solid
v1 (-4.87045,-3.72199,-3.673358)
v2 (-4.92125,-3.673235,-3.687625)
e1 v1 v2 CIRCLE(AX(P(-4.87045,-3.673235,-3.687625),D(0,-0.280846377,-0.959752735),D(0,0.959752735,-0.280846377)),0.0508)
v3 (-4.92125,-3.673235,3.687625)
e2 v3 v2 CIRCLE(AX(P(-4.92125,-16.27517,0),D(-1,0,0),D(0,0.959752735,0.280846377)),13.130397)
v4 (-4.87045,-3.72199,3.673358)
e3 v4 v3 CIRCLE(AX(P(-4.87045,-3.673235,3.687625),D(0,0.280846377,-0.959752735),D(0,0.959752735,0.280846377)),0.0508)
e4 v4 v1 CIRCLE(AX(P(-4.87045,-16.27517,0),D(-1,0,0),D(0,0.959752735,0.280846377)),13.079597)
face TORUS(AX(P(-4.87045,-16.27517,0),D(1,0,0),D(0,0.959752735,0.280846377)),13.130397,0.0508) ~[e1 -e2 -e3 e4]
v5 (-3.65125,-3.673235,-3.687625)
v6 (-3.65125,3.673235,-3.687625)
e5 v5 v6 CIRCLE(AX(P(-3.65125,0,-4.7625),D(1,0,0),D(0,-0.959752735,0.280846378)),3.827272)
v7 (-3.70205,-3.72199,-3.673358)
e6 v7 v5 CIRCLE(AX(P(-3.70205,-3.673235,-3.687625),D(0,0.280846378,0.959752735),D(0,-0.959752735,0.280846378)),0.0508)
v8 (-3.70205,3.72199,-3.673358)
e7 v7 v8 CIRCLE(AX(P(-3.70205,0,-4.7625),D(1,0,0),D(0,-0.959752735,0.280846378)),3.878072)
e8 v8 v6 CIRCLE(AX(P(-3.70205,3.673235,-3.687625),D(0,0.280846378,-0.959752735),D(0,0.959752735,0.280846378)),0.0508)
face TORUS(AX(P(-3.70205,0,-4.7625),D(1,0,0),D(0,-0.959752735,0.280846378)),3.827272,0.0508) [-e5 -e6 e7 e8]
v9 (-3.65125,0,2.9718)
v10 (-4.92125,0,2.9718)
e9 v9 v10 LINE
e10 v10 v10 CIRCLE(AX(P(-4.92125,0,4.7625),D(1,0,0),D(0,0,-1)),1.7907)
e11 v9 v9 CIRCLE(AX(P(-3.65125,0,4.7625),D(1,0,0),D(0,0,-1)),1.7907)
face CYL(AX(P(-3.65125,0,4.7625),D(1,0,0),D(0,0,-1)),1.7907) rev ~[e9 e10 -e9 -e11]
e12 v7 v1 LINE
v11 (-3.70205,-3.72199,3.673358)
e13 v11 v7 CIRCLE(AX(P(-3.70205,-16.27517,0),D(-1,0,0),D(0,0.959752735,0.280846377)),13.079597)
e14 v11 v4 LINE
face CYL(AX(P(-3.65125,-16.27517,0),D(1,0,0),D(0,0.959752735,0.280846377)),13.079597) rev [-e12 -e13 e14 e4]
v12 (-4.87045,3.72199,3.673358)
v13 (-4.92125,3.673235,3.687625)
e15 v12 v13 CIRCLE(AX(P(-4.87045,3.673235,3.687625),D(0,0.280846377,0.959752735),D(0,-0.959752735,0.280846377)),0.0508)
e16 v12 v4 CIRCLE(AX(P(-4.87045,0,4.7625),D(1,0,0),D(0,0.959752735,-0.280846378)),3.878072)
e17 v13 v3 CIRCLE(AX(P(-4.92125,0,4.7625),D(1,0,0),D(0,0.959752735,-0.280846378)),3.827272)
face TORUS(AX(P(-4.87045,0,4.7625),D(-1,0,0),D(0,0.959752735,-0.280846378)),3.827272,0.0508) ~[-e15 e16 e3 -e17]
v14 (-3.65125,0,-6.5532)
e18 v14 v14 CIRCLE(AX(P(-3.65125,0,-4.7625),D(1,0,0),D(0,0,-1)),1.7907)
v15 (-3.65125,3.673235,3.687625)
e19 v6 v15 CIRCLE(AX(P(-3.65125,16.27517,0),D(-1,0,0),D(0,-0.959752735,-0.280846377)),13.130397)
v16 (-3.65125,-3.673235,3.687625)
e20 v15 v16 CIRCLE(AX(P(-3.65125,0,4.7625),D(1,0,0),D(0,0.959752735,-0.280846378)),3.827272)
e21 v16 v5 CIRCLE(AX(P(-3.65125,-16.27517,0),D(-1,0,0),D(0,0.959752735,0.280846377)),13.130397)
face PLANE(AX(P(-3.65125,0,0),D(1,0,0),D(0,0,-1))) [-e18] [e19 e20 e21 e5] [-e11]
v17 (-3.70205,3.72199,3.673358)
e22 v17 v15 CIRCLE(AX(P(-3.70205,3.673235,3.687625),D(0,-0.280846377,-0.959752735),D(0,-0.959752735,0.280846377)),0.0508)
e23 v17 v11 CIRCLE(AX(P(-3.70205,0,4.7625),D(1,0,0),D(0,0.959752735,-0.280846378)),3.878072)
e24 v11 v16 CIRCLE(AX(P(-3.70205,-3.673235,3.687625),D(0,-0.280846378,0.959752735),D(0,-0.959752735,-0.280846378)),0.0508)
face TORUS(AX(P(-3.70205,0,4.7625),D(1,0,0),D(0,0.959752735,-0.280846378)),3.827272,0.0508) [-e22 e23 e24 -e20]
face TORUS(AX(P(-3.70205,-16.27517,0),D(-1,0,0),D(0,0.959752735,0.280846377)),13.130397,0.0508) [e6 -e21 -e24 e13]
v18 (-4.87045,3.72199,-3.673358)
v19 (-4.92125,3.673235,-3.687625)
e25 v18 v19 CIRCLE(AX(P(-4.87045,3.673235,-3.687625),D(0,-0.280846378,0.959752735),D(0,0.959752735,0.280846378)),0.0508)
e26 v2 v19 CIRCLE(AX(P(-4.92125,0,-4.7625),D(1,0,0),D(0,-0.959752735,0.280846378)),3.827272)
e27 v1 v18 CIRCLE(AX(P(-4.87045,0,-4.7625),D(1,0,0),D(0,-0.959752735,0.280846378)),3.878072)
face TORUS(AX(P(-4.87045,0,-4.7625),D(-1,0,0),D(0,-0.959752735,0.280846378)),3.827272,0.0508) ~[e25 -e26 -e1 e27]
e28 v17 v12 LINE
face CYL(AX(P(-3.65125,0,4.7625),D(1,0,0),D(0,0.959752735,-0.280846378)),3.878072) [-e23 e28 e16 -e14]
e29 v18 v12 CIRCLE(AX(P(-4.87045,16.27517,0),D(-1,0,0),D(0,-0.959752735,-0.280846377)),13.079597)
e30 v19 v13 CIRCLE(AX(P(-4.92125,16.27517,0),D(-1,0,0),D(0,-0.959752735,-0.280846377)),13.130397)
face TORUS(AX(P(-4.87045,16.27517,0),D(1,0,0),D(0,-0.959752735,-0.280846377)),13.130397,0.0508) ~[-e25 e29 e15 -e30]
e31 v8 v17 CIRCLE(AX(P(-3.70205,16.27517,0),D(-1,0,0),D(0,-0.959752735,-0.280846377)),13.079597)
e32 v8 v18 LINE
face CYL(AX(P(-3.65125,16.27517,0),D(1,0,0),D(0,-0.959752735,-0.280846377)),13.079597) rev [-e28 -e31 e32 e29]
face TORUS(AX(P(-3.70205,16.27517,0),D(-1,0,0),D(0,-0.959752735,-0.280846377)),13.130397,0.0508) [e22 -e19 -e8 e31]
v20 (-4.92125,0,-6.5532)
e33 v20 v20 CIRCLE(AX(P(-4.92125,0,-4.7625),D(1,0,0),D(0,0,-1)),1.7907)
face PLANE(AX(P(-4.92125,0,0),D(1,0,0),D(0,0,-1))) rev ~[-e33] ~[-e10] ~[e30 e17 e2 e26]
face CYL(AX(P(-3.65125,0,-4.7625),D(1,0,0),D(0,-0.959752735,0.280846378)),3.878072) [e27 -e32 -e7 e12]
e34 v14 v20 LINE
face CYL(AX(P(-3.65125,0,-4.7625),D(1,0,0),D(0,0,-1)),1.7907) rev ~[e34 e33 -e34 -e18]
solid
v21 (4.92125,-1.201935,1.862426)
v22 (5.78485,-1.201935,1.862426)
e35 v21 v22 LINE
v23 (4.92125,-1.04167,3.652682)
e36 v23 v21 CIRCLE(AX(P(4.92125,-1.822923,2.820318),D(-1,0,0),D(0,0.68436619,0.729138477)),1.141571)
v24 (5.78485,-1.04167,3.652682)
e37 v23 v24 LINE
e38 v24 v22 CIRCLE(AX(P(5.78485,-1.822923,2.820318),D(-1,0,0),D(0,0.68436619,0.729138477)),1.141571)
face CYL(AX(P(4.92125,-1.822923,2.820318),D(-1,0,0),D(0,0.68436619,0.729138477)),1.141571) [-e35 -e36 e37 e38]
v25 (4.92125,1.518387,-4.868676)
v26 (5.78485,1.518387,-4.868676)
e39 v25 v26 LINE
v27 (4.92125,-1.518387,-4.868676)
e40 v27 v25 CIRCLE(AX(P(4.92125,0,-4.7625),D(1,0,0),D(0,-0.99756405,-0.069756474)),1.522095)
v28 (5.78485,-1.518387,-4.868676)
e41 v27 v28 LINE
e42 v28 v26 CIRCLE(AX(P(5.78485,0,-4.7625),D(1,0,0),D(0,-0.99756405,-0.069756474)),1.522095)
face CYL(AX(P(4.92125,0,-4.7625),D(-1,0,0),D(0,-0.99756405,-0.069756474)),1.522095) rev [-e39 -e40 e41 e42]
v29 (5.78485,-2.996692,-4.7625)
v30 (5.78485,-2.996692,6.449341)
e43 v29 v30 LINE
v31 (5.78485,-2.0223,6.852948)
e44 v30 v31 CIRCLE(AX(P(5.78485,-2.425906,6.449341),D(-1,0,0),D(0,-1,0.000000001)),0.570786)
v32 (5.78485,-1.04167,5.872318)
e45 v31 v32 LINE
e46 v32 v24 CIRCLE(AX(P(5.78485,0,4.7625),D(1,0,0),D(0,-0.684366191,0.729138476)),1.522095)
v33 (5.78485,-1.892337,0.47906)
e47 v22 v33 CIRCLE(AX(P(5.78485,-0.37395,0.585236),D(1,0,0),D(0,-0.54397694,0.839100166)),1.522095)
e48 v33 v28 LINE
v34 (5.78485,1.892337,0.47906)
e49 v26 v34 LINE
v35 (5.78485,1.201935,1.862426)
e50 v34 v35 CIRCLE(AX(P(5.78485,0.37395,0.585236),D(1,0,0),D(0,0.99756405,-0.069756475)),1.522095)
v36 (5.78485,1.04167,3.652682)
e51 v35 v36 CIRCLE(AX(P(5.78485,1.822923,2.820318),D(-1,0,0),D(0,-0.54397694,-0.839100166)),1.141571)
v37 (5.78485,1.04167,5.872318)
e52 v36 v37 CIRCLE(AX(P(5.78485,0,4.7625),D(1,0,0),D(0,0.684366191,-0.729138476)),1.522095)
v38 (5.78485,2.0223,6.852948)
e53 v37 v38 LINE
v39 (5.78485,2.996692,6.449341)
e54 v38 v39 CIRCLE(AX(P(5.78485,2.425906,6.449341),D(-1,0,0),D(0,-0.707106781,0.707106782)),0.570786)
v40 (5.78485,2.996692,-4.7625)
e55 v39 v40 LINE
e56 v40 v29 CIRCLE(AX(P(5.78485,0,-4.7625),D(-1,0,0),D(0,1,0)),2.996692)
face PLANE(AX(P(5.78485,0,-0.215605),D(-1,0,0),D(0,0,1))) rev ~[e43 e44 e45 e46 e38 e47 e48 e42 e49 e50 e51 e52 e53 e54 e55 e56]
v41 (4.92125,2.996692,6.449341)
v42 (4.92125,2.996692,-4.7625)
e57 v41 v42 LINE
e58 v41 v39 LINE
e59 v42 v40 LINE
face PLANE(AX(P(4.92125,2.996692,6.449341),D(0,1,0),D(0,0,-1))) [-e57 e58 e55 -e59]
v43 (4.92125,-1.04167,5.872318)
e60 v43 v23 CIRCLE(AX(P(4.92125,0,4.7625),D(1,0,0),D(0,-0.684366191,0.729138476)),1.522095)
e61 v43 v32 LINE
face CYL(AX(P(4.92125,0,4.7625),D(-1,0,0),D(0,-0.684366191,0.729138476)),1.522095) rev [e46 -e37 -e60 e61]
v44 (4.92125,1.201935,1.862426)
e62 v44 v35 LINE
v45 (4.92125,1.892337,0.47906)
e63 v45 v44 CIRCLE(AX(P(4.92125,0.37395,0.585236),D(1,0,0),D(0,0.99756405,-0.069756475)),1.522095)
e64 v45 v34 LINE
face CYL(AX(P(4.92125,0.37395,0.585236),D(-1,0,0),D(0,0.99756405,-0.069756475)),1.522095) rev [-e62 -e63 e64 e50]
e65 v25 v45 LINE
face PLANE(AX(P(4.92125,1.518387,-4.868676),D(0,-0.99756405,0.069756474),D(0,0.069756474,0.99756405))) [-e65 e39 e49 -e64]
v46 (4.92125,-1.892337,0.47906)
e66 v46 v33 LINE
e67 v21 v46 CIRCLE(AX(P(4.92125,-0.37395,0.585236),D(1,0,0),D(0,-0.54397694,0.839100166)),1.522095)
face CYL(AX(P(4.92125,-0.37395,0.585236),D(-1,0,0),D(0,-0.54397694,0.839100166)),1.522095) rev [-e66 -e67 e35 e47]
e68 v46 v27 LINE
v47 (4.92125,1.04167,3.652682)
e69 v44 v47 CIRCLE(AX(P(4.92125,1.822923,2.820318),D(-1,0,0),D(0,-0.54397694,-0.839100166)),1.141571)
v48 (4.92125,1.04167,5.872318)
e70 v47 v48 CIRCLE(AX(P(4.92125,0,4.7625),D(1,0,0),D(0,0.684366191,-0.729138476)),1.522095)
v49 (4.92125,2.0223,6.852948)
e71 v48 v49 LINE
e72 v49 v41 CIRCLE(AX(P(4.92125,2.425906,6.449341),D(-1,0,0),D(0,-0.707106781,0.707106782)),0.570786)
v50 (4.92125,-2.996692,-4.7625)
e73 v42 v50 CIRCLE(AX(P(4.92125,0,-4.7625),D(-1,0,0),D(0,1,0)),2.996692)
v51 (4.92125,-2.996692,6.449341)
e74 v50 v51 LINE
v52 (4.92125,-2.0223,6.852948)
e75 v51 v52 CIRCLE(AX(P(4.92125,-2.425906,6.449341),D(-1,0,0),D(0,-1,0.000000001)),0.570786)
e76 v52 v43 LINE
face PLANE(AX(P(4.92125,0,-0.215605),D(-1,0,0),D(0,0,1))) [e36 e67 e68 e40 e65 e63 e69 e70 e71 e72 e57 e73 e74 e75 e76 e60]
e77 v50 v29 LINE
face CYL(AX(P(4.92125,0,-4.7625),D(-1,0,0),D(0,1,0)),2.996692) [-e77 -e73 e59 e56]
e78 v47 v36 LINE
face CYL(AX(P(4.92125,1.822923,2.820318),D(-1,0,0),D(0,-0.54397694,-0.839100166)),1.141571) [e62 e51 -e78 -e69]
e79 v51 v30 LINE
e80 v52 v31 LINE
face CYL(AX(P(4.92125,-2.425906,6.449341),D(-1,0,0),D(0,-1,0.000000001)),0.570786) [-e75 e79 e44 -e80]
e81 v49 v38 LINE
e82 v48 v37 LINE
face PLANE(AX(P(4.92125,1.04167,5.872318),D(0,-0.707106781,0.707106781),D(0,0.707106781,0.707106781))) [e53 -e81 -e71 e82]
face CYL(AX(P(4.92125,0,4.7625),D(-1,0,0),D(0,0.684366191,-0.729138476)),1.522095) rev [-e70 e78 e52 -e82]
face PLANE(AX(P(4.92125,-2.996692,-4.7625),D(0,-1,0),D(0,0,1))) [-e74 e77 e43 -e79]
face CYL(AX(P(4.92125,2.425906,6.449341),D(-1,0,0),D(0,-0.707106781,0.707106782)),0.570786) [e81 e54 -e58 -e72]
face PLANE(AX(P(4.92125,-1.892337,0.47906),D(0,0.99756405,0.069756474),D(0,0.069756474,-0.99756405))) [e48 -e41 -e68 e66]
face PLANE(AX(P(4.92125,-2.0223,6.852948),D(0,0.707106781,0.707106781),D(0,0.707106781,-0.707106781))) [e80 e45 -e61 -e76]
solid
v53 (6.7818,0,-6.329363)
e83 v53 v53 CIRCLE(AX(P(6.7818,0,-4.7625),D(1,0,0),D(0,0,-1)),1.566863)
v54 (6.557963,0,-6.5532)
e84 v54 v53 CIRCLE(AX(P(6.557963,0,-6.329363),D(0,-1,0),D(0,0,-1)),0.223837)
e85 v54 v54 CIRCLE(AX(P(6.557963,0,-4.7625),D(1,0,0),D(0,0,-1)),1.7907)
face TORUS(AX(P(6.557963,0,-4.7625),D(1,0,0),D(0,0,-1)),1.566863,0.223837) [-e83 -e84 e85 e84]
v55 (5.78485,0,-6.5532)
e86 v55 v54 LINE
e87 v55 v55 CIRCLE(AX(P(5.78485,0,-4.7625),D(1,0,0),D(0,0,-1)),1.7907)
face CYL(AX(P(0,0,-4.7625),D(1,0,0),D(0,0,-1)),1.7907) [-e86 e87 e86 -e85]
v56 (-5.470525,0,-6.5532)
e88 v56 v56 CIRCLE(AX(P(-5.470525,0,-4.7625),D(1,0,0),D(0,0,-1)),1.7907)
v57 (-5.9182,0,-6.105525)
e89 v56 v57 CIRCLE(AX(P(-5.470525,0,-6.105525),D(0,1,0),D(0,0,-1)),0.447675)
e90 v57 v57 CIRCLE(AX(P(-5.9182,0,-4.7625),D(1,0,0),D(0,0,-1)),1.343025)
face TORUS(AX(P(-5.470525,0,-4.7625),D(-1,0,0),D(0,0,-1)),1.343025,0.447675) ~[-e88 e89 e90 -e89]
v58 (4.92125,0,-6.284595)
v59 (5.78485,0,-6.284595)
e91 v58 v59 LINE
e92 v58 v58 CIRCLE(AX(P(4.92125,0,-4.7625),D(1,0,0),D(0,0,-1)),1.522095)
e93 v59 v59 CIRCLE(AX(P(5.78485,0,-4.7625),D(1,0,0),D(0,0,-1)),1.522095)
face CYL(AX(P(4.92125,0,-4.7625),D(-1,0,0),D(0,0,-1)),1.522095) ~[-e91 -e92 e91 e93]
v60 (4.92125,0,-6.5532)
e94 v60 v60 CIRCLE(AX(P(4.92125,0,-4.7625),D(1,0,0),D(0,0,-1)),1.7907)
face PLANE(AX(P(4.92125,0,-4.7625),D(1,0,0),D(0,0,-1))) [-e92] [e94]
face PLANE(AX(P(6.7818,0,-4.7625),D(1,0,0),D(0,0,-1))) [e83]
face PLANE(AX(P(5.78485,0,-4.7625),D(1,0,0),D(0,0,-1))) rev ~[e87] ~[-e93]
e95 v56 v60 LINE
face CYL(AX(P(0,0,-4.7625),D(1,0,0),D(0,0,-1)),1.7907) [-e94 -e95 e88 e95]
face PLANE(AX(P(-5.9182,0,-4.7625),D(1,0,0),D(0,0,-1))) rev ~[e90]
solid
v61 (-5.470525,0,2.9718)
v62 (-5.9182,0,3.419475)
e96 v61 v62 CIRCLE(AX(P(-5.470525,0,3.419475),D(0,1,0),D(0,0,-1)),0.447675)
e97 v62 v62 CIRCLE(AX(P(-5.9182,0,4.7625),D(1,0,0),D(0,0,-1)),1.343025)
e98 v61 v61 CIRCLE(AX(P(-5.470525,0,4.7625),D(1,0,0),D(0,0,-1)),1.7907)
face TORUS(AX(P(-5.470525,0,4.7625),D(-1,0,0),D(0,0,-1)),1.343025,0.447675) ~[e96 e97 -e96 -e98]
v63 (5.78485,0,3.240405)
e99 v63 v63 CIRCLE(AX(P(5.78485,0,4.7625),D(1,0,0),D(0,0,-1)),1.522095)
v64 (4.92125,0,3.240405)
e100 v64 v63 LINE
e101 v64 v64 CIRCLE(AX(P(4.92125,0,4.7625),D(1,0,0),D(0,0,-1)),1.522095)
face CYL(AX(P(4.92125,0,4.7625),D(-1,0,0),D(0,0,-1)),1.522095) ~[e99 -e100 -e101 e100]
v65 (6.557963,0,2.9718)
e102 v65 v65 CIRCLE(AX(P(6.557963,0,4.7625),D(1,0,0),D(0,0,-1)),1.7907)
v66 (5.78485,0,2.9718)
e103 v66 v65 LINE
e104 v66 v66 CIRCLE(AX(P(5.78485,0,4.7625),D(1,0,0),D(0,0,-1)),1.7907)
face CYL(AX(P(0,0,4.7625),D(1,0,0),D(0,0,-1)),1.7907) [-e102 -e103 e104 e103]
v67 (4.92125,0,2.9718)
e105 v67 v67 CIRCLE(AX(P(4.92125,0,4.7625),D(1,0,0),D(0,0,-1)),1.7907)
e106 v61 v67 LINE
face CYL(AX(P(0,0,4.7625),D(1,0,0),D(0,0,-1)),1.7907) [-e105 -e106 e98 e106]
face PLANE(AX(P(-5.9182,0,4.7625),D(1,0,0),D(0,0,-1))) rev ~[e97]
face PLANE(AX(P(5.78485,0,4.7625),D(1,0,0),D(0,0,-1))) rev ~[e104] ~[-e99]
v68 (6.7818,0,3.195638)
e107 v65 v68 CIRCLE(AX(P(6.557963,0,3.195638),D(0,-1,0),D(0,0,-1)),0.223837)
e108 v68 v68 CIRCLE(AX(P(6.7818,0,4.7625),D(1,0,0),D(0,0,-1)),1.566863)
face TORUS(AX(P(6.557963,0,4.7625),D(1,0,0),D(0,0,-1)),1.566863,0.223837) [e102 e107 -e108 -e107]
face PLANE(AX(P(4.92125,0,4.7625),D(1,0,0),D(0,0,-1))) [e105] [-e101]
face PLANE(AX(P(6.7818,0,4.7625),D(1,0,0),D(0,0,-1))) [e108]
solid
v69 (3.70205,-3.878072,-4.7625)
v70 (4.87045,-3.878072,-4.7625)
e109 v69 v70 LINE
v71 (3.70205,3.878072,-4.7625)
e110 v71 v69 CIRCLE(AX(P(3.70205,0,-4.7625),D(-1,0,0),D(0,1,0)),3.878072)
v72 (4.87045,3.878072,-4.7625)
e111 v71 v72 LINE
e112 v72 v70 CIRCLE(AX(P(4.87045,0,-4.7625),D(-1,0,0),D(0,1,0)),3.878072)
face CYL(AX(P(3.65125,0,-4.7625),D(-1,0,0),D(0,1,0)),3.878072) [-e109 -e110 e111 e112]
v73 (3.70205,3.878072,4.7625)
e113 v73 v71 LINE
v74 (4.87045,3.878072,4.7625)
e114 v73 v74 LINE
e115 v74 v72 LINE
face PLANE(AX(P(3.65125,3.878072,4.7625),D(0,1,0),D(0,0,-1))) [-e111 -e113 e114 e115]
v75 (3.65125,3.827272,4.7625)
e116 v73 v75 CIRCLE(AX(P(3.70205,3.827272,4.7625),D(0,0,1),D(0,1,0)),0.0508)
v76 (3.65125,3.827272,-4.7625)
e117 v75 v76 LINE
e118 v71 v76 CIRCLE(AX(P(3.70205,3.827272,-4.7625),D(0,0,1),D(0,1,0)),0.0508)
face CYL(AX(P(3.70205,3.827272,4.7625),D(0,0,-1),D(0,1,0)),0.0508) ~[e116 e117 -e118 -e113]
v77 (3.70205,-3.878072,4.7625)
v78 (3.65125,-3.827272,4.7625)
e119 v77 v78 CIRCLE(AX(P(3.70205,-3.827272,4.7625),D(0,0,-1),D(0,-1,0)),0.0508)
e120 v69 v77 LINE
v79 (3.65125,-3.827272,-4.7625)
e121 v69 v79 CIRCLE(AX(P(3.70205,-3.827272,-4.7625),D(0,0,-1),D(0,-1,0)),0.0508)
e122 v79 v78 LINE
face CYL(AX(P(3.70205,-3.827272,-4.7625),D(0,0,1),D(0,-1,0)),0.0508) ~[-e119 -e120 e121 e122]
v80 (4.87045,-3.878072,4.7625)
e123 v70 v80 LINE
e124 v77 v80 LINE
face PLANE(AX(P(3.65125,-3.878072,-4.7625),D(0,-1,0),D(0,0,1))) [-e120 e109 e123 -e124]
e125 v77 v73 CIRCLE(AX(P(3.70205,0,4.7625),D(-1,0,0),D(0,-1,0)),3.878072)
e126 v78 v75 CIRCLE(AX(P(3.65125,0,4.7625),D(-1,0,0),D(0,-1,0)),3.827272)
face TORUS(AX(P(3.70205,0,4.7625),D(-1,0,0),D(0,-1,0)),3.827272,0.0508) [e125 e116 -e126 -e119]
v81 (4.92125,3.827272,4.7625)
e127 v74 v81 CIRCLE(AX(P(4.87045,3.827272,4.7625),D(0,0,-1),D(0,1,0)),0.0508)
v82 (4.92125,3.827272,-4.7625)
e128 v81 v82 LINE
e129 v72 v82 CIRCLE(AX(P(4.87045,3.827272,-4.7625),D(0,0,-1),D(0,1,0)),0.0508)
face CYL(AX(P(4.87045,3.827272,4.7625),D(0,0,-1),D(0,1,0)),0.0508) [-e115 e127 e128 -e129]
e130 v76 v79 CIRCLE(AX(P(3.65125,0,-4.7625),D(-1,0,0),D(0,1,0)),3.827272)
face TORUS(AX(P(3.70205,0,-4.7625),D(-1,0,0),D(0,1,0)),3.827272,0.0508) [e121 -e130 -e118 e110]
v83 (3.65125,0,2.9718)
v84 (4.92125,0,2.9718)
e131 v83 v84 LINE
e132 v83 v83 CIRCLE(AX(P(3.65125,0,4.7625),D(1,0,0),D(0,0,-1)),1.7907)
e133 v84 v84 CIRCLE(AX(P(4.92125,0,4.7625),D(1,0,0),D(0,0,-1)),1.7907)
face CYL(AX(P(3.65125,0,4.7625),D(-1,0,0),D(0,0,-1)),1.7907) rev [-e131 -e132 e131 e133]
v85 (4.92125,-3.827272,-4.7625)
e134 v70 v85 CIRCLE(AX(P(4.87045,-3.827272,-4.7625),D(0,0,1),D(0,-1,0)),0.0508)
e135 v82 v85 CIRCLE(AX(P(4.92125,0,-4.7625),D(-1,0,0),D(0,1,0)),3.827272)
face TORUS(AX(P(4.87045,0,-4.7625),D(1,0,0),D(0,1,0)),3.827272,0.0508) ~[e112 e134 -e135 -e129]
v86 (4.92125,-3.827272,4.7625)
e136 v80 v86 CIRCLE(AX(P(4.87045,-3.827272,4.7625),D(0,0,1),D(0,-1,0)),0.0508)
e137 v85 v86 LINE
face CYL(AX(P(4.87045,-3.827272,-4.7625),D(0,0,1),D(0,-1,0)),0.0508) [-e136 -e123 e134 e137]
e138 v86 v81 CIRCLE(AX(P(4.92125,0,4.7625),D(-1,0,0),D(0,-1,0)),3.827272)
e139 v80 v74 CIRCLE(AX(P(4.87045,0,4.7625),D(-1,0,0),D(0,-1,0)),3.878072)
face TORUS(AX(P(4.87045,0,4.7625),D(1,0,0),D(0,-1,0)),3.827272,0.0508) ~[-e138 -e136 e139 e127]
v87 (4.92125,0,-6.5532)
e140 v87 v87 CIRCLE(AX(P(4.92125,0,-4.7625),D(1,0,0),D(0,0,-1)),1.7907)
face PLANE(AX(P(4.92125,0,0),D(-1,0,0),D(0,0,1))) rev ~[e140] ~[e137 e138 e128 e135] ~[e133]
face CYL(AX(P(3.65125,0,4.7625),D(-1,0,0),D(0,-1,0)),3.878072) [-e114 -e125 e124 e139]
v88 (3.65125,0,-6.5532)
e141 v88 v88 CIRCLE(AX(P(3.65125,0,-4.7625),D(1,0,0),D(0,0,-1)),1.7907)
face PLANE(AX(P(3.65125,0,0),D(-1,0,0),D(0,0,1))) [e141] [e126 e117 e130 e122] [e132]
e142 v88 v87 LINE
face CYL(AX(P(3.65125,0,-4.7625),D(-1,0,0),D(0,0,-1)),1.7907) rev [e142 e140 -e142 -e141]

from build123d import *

# Parameters (mm, degrees)
BOSS_EXTRUDE1_START        = 3.65125
SKETCH3_R                  = 1.7907
BOSS_EXTRUDE1_DEPTH        = 1.27
FILLET1_R                  = 0.0508
BOSS_EXTRUDE2_START        = -3.65125
SKETCH4_R                  = 1.7907
BOSS_EXTRUDE2_DEPTH        = 1.27
FILLET2_R                  = 0.0508
SKETCH5_R                  = 1.7907
BOSS_EXTRUDE3_DEPTH        = 6.7818
BOSS_EXTRUDE3_DEPTH_BACK   = 5.9182
BOSS_EXTRUDE3_2_DEPTH      = 6.7818
BOSS_EXTRUDE3_2_DEPTH_BACK = 5.9182
FILLET3_R                  = 0.447675
FILLET4_R                  = 0.447675
BOSS_EXTRUDE4_DEPTH        = 0.8636
SKETCH8_R                  = 1.7907
SKETCH8_R_2                = 1.522095
CUT_EXTRUDE1_DEPTH         = 0.8636
SKETCH9_R                  = 1.7907
SKETCH9_R_2                = 1.522095
CUT_EXTRUDE2_DEPTH         = 0.8636
FILLET5_R                  = 0.2238375
FILLET6_R                  = 0.2238375


with BuildPart() as part:
    # Sketch3 → Boss-Extrude1 (new body)
    with BuildSketch(Plane(origin=(0, 0, 0), x_dir=(0, 0, -1), z_dir=(1, 0, 0)).offset(BOSS_EXTRUDE1_START)):
        with BuildLine():
            Line((-4.7625, 3.878072), (4.7625, 3.878072))
            ThreePointArc((4.7625, 3.878072), (8.640572, 0), (4.7625, -3.878072))
            Line((4.7625, -3.878072), (-4.7625, -3.878072))
            ThreePointArc((-4.7625, -3.878072), (-8.640572, 0), (-4.7625, 3.878072))
        make_face()
        with Locations((-4.7625, 0)):
            Circle(SKETCH3_R, mode=Mode.SUBTRACT)
        with Locations((4.7625, 0)):
            Circle(SKETCH3_R, mode=Mode.SUBTRACT)
    extrude(amount=BOSS_EXTRUDE1_DEPTH)

    # Fillet1
    fillet1_edges = [part.edges().sort_by_distance(p)[0] for p in [
        (4.92125, 0, -8.640572),
        (4.92125, 3.878072, 0),
        (4.92125, 0, 8.640572),
        (3.65125, 3.878072, 0),
        (3.65125, 0, -8.640572),
        (3.65125, -3.878072, 0),
        (3.65125, 0, 8.640572),
        (4.92125, -3.878072, 0),
    ]]
    fillet(fillet1_edges, radius=FILLET1_R)


with BuildPart() as body_2:
    # Sketch4 → Boss-Extrude2 (new body)
    with BuildSketch(Plane(origin=(0, 0, 0), x_dir=(0, 0, -1), z_dir=(1, 0, 0)).offset(BOSS_EXTRUDE2_START)):
        with BuildLine():
            ThreePointArc((-3.673357527, 3.721990208), (-8.640572, 0), (-3.673357527, -3.721990208))
            ThreePointArc((-3.673357527, -3.721990208), (0, -3.195572188), (3.673357527, -3.721990208))
            ThreePointArc((3.673357527, -3.721990208), (8.640572, 0), (3.673357527, 3.721990208))
            ThreePointArc((3.673357527, 3.721990208), (0, 3.195572188), (-3.673357527, 3.721990208))
        make_face()
        with Locations((-4.7625, 0)):
            Circle(SKETCH4_R, mode=Mode.SUBTRACT)
        with Locations((4.7625, 0)):
            Circle(SKETCH4_R, mode=Mode.SUBTRACT)
    extrude(amount=-BOSS_EXTRUDE2_DEPTH)

    # Fillet2
    fillet2_edges = [body_2.edges().sort_by_distance(p)[0] for p in [
        (-4.92125, -3.195572188, 0),
        (-4.92125, 0, -8.640572),
        (-4.92125, 3.195572188, 0),
        (-3.65125, 0, -8.640572),
        (-3.65125, -3.195572188, 0),
        (-3.65125, 0, 8.640572),
        (-3.65125, 3.195572188, 0),
        (-4.92125, 0, 8.640572),
    ]]
    fillet(fillet2_edges, radius=FILLET2_R)


with BuildPart() as body_3:
    # Sketch5 → Boss-Extrude3 (new body, two sides)
    with BuildSketch(Plane(origin=(0, 0, 0), x_dir=(0, 0, -1), z_dir=(1, 0, 0))) as boss_extrude3_sk:
        with Locations((-4.7625, 0)):
            Circle(SKETCH5_R)
    extrude(amount=BOSS_EXTRUDE3_DEPTH)
    extrude(boss_extrude3_sk.sketch, amount=-BOSS_EXTRUDE3_DEPTH_BACK)

    # Fillet3
    fillet3_edges = [body_3.edges().sort_by_distance(p)[0] for p in [
        (-5.9182, 0, 6.5532),
    ]]
    fillet(fillet3_edges, radius=FILLET3_R)

    # Sketch8 → Cut-Extrude1 (cut)
    with BuildSketch(Plane(origin=(4.92125, 0, 0), x_dir=(0, 0, -1), z_dir=(1, 0, 0))):
        with Locations((-4.7625, 0)):
            Circle(SKETCH8_R)
        with Locations((-4.7625, 0)):
            Circle(SKETCH8_R_2, mode=Mode.SUBTRACT)
    extrude(amount=CUT_EXTRUDE1_DEPTH, mode=Mode.SUBTRACT)

    # Fillet5
    fillet5_edges = [body_3.edges().sort_by_distance(p)[0] for p in [
        (6.7818, 0, 6.5532),
    ]]
    fillet(fillet5_edges, radius=FILLET5_R)


with BuildPart() as body_4:
    # Sketch5 → Boss-Extrude3 2 (new body, two sides)
    with BuildSketch(Plane(origin=(0, 0, 0), x_dir=(0, 0, -1), z_dir=(1, 0, 0))) as boss_extrude3_2_sk:
        with Locations((4.7625, 0)):
            Circle(SKETCH5_R)
    extrude(amount=BOSS_EXTRUDE3_2_DEPTH)
    extrude(boss_extrude3_2_sk.sketch, amount=-BOSS_EXTRUDE3_2_DEPTH_BACK)

    # Fillet4
    fillet4_edges = [body_4.edges().sort_by_distance(p)[0] for p in [
        (-5.9182, 0, -2.9718),
    ]]
    fillet(fillet4_edges, radius=FILLET4_R)

    # Sketch9 → Cut-Extrude2 (cut)
    with BuildSketch(Plane(origin=(4.92125, 0, 0), x_dir=(0, 0, -1), z_dir=(1, 0, 0))):
        with Locations((4.7625, 0)):
            Circle(SKETCH9_R)
        with Locations((4.7625, 0)):
            Circle(SKETCH9_R_2, mode=Mode.SUBTRACT)
    extrude(amount=CUT_EXTRUDE2_DEPTH, mode=Mode.SUBTRACT)

    # Fillet6
    fillet6_edges = [body_4.edges().sort_by_distance(p)[0] for p in [
        (6.7818, 0, -2.9718),
    ]]
    fillet(fillet6_edges, radius=FILLET6_R)


with BuildPart() as body_5:
    # Sketch7 → Boss-Extrude4 (new body)
    with BuildSketch(Plane(origin=(4.92125, 0, 0), x_dir=(0, 0, -1), z_dir=(1, 0, 0))):
        with BuildLine():
            Line((4.7625, -2.996692), (-6.449341275, -2.996692))
            ThreePointArc((-6.449341275, -2.996692), (-6.976678431, -2.644336577), (-6.852947661, -2.022299989))
            Line((-6.852947661, -2.022299989), (-5.872318029, -1.041670357))
            ThreePointArc((-5.872318029, -1.041670357), (-4.7625, -1.522095), (-3.652681971, -1.041670357))
            ThreePointArc((-3.652681971, -1.041670357), (-2.718531649, -0.685898777), (-1.862425825, -1.201934688))
            ThreePointArc((-1.862425825, -1.201934688), (-1.264928618, -1.735857104), (-0.479059679, -1.892337359))
            Line((-0.479059679, -1.892337359), (4.86867598, -1.518387253))
            ThreePointArc((4.86867598, -1.518387253), (6.284595, 0), (4.86867598, 1.518387253))
            Line((4.86867598, 1.518387253), (-0.479059679, 1.892337359))
            ThreePointArc((-0.479059679, 1.892337359), (-1.264928618, 1.735857104), (-1.862425825, 1.201934688))
            ThreePointArc((-1.862425825, 1.201934688), (-2.718531649, 0.685898777), (-3.652681971, 1.041670357))
            ThreePointArc((-3.652681971, 1.041670357), (-4.7625, 1.522095), (-5.872318029, 1.041670357))
            Line((-5.872318029, 1.041670357), (-6.852947661, 2.022299989))
            ThreePointArc((-6.852947661, 2.022299989), (-6.976678431, 2.644336577), (-6.449341275, 2.996692))
            Line((-6.449341275, 2.996692), (4.7625, 2.996692))
            ThreePointArc((4.7625, 2.996692), (7.759192, 0), (4.7625, -2.996692))
        make_face()
    extrude(amount=BOSS_EXTRUDE4_DEPTH)


solid = Compound([part.part, body_2.part, body_3.part, body_4.part, body_5.part])
